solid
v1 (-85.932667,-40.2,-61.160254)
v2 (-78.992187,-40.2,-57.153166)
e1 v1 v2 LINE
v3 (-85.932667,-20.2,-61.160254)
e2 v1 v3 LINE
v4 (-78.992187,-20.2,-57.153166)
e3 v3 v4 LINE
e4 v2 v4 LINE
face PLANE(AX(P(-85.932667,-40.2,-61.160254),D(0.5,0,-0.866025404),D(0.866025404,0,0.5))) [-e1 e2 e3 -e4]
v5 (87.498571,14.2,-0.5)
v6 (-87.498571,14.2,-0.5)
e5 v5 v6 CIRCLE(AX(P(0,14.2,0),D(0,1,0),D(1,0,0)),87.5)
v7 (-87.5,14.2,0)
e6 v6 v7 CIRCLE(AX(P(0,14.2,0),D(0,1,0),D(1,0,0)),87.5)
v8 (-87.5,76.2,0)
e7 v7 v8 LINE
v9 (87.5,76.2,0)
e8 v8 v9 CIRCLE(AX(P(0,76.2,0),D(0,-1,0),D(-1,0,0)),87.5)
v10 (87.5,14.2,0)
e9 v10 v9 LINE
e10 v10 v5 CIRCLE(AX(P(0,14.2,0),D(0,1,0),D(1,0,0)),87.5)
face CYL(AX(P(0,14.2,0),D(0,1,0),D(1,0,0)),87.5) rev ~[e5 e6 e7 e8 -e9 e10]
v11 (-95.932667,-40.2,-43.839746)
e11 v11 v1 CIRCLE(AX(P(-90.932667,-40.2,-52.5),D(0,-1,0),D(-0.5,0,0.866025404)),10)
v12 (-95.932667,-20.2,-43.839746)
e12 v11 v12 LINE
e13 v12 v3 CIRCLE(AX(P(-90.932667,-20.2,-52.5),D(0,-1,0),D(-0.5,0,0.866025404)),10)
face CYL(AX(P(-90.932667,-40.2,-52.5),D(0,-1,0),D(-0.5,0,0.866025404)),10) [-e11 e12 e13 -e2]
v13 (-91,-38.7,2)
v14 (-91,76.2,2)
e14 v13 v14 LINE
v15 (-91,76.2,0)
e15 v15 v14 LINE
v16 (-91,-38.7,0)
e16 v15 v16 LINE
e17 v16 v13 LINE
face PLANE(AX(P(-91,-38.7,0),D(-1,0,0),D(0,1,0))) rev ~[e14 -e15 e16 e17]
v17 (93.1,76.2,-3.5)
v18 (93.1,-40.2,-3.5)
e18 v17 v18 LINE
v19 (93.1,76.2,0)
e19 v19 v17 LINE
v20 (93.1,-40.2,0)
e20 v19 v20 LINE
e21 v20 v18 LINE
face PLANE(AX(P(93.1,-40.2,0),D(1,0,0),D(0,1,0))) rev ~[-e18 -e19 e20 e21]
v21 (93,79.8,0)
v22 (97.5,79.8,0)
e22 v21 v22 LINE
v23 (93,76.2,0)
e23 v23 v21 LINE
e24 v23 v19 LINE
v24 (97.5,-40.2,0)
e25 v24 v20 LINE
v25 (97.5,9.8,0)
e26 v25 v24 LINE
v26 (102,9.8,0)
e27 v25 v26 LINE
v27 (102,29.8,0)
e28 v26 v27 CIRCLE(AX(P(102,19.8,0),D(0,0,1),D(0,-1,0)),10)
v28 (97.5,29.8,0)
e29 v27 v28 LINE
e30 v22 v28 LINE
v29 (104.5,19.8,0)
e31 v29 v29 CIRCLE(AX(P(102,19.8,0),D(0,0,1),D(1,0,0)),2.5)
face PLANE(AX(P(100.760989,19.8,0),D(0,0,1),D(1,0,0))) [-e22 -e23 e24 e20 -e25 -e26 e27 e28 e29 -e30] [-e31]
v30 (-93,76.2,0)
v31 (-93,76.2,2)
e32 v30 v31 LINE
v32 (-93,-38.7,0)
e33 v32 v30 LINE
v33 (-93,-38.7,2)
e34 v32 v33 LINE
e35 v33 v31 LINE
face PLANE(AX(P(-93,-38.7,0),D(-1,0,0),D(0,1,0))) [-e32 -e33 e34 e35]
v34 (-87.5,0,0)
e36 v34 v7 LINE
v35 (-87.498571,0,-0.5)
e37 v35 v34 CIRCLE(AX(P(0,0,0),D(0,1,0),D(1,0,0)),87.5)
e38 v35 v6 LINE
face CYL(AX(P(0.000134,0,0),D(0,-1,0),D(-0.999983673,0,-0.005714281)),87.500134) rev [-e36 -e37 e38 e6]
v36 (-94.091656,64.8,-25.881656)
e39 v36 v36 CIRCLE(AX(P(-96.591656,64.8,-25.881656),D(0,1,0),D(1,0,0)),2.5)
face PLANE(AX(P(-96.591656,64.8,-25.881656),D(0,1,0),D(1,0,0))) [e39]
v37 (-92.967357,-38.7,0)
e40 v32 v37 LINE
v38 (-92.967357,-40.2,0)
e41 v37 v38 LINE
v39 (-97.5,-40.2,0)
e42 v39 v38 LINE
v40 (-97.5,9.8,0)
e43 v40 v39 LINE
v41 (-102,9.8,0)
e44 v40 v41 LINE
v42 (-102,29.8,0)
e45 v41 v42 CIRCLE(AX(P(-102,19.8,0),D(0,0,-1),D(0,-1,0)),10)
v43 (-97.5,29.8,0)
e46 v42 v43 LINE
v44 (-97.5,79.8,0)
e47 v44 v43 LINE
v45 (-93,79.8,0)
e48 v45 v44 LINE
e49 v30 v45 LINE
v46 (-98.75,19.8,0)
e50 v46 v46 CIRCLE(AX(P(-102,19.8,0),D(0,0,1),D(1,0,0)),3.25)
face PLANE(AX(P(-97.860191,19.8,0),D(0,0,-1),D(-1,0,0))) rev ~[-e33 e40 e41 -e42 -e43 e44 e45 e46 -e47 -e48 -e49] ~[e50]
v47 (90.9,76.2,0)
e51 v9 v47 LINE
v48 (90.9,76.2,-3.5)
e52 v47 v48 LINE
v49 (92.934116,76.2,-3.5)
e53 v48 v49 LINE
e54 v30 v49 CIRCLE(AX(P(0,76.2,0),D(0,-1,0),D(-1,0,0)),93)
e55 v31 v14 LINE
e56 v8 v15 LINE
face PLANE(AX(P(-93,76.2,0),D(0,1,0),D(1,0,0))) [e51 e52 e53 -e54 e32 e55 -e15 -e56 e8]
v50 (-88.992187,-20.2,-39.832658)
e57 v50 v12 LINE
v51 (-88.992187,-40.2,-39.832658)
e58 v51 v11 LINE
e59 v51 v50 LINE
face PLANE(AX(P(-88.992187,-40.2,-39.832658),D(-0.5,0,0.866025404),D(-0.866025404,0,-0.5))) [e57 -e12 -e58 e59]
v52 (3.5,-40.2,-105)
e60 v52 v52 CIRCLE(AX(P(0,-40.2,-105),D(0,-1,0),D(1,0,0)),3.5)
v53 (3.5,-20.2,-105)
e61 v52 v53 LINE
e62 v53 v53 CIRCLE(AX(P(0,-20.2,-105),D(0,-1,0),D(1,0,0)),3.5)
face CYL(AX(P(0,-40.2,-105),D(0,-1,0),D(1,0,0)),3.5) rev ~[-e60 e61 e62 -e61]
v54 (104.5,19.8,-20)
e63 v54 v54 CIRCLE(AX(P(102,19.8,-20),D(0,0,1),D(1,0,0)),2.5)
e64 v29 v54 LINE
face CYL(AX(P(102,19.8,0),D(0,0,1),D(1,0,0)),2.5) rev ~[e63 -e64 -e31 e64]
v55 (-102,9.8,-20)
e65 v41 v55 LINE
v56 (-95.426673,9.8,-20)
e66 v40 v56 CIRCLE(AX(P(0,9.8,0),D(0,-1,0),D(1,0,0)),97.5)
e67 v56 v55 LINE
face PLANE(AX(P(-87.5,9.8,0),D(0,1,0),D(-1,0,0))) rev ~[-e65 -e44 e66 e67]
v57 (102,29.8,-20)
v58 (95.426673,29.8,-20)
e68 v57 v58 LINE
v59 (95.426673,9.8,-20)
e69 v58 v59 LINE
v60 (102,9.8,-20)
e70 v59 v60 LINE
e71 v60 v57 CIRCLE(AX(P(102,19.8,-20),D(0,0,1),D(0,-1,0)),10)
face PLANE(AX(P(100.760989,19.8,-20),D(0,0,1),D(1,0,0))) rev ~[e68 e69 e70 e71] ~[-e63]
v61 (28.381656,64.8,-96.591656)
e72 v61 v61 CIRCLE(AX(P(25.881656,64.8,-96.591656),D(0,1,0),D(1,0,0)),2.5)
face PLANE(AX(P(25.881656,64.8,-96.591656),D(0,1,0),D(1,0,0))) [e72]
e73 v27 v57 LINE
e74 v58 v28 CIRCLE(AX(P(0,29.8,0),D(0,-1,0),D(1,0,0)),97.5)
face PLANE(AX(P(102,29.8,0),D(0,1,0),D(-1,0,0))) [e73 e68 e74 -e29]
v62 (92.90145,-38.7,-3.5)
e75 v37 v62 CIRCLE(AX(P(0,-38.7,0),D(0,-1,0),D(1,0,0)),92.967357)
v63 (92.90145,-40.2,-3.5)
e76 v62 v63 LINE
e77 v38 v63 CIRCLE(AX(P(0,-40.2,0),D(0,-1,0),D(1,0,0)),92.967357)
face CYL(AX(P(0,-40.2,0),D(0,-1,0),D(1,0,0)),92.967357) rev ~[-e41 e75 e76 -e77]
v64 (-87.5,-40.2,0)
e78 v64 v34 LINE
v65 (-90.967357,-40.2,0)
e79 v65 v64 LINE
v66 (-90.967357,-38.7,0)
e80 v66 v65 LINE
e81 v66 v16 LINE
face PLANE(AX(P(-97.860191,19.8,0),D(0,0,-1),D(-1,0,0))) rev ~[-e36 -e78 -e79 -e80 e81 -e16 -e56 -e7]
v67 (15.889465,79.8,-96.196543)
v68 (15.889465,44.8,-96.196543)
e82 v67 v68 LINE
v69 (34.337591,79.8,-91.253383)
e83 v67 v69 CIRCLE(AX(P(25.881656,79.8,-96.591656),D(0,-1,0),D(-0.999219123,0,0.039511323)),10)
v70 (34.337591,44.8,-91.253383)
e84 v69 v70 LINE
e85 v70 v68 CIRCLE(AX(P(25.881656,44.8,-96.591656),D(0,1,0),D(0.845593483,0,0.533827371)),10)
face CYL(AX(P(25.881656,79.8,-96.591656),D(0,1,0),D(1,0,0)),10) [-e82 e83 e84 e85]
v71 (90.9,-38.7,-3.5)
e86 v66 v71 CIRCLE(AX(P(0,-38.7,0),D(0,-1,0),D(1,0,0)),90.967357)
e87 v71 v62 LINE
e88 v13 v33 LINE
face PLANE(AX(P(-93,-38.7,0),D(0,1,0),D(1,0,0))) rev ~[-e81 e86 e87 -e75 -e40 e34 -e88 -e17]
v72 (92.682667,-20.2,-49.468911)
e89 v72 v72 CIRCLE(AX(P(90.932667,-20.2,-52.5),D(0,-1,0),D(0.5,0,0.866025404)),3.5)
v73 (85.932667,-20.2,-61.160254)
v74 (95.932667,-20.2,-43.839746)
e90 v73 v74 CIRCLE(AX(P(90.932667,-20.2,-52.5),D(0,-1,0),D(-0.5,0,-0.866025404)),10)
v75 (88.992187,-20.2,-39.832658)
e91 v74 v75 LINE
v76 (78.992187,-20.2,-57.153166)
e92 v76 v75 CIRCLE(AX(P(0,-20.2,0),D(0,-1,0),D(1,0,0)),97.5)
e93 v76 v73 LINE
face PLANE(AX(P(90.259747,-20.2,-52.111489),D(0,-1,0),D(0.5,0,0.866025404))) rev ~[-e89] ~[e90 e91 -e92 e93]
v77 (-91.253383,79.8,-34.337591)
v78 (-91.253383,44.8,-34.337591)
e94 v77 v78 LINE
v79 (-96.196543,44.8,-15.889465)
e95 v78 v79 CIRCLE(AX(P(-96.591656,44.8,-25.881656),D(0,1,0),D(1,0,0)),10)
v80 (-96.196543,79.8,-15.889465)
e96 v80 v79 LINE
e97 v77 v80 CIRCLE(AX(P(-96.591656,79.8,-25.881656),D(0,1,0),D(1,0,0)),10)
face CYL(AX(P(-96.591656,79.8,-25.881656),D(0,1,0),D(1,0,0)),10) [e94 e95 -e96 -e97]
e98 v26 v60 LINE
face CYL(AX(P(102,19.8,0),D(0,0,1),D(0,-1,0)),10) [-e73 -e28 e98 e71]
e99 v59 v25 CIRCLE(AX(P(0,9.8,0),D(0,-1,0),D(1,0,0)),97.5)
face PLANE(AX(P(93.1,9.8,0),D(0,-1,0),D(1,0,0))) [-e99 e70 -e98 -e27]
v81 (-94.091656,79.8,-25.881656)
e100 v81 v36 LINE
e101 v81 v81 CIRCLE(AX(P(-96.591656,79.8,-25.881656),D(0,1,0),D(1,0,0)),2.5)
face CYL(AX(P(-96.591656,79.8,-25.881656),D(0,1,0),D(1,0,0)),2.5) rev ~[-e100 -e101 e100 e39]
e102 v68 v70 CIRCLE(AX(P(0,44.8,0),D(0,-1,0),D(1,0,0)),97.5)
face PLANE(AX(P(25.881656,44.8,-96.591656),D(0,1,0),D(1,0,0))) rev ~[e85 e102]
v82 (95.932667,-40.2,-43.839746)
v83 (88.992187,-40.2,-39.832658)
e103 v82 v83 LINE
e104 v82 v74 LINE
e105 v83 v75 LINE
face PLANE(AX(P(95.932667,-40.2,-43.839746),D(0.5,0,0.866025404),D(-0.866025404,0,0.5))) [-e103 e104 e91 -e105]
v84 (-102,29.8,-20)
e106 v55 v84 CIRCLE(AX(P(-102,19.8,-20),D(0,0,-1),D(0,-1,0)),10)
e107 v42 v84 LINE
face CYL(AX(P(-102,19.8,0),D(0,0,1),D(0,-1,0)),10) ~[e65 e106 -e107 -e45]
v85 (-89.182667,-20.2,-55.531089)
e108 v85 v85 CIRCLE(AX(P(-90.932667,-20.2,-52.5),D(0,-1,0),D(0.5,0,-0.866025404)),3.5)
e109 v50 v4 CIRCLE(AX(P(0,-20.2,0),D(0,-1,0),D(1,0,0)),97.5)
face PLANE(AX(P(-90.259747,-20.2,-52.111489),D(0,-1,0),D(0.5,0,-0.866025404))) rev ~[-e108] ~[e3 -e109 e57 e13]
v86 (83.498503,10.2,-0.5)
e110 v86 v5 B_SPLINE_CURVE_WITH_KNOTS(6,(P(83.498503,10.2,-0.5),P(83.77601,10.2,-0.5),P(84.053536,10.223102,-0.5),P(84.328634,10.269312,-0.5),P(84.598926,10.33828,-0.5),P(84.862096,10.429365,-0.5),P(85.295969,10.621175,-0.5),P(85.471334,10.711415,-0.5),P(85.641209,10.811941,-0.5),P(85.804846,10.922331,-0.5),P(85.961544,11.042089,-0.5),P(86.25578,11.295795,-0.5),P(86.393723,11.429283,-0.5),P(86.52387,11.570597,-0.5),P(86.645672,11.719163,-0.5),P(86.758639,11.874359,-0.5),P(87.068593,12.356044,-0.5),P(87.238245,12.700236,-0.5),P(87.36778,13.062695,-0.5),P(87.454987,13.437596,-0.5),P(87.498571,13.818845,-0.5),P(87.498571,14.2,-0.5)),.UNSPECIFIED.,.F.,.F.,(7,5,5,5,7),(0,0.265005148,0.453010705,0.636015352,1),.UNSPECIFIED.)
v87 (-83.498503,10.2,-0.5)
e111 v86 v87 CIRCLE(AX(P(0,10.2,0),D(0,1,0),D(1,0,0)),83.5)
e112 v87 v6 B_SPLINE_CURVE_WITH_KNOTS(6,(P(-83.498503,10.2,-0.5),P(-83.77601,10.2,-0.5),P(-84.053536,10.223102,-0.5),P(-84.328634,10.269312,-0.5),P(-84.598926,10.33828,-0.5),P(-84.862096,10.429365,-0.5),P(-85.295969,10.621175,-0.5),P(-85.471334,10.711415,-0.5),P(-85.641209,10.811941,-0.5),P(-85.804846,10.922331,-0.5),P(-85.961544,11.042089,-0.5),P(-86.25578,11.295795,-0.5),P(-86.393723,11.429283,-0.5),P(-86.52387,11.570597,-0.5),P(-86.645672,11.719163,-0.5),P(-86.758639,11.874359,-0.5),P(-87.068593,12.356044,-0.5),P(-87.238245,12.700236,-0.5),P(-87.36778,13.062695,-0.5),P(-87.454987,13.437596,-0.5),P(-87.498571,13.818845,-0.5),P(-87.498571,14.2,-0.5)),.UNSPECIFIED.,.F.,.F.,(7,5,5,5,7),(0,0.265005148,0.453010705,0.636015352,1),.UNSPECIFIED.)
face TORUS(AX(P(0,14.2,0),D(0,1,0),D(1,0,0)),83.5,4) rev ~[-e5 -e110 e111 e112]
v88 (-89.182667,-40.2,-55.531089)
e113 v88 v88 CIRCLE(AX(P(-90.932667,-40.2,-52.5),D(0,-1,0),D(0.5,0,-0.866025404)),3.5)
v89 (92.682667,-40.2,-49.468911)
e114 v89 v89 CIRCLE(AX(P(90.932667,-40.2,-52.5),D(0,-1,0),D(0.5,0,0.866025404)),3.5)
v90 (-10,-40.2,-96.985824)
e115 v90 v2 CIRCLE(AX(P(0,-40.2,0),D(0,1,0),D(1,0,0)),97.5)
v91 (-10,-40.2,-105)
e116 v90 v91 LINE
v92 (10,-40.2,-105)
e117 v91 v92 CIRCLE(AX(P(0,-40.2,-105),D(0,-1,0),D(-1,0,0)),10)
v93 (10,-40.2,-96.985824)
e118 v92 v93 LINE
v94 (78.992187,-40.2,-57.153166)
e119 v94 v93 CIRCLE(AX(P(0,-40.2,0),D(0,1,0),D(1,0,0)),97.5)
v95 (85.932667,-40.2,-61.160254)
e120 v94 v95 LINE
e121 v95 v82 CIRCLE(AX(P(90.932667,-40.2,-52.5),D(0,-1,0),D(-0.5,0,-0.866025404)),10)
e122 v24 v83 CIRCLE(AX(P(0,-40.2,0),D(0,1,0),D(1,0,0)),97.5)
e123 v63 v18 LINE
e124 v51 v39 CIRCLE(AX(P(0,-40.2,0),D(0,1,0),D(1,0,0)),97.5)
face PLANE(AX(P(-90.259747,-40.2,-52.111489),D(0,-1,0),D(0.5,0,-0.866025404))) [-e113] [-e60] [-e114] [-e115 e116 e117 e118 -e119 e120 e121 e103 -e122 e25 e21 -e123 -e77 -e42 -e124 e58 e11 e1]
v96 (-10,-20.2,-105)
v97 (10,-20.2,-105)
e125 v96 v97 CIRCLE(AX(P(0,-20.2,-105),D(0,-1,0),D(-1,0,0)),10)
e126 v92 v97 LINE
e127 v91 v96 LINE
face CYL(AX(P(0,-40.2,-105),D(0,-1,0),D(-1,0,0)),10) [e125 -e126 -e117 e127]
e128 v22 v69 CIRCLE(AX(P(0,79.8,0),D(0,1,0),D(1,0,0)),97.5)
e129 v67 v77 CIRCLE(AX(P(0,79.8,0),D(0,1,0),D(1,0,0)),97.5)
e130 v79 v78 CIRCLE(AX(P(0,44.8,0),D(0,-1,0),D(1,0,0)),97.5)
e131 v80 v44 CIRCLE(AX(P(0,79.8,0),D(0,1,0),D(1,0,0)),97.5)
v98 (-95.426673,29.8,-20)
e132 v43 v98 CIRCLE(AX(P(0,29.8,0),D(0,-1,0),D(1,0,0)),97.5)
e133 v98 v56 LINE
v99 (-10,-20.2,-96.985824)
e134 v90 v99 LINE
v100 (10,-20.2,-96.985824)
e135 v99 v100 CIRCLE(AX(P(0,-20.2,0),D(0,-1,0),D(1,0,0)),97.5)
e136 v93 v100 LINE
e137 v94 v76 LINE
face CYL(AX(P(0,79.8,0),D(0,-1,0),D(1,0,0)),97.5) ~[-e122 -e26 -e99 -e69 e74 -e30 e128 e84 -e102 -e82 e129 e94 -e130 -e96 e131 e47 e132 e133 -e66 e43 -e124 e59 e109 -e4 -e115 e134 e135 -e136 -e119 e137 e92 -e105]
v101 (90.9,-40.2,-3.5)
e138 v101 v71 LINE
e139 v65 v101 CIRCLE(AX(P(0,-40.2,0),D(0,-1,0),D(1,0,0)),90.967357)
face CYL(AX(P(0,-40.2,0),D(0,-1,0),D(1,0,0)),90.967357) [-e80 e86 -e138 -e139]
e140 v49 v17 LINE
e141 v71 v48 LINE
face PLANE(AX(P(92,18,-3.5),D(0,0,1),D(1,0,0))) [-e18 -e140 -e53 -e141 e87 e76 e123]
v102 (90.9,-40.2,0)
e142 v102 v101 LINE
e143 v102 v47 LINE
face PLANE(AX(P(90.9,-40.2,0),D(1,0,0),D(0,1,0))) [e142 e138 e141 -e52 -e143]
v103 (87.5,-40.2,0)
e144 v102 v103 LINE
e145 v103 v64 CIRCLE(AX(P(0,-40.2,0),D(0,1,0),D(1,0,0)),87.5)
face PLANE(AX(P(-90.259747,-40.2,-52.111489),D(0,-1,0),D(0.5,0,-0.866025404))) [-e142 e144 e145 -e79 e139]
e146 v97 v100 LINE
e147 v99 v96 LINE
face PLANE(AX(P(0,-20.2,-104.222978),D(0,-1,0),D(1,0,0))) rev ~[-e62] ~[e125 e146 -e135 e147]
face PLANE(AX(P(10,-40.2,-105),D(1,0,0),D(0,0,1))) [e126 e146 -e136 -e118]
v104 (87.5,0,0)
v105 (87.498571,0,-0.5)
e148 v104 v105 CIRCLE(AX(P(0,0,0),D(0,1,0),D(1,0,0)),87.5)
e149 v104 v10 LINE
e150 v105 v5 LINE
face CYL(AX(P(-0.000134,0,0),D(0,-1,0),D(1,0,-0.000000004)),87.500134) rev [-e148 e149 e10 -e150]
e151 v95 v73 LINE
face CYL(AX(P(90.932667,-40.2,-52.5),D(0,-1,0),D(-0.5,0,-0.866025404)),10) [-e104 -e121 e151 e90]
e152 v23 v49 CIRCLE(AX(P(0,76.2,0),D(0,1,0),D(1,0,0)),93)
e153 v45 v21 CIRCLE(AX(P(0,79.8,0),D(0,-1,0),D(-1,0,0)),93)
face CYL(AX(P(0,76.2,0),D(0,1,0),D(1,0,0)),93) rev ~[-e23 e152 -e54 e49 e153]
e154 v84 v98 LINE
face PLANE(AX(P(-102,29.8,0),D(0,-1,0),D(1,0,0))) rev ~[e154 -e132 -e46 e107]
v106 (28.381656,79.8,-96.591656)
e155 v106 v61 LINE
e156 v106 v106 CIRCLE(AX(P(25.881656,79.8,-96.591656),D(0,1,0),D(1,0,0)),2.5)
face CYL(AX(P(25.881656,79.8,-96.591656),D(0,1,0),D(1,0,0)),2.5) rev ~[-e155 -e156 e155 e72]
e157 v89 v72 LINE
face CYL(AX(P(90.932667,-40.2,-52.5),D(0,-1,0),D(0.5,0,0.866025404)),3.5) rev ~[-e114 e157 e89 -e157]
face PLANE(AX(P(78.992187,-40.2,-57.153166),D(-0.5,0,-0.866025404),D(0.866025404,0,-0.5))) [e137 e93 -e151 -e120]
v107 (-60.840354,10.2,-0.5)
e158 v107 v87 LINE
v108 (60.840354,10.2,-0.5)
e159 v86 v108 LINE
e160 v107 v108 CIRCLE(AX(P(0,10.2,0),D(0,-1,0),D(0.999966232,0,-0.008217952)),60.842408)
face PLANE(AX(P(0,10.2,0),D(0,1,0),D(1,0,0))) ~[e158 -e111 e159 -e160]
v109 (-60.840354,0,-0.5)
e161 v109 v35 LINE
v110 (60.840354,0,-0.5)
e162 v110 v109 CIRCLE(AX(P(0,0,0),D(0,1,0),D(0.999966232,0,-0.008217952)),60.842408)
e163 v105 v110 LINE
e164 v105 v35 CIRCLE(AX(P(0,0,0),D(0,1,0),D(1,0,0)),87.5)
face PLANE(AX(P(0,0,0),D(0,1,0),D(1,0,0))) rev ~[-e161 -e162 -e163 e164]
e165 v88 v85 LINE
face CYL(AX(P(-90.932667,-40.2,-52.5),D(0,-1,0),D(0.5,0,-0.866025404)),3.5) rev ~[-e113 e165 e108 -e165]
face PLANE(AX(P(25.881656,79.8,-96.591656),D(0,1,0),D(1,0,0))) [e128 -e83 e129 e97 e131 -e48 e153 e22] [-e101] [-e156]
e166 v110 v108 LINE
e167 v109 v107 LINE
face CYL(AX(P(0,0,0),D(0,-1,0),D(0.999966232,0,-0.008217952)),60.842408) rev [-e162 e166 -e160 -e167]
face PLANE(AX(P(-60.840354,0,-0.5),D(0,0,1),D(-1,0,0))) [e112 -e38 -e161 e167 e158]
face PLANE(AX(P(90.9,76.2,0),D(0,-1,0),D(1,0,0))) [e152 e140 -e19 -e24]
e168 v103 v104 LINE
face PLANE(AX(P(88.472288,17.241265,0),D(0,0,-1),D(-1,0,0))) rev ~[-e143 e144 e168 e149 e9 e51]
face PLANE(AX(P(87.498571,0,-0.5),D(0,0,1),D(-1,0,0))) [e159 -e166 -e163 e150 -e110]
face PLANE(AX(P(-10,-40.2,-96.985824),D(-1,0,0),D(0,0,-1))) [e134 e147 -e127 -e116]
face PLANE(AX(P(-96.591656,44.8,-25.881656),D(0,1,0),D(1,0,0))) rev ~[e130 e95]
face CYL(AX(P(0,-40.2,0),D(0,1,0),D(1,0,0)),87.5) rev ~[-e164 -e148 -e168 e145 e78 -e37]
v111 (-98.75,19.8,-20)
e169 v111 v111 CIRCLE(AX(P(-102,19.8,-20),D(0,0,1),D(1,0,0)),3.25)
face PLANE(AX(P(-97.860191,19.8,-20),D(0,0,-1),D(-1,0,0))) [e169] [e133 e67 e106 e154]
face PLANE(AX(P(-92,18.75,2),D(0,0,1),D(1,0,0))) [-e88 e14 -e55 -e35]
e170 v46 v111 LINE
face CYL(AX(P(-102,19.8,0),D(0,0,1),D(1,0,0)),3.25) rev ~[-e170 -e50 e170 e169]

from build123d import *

# Parameters (mm, degrees)
REVOLU_O2_ANGLE            = 180
ESBO_O4_R                  = 10
RESSALTO_EXTRUS_O1_DEPTH   = 35
RESSALTO_EXTRUS_O2_DEPTH   = 20
ESBO_O8_R                  = 3.5
CORTE_EXTRUS_O2_DEPTH      = 20
PADR_OCIRCULAR1_COUNT      = 6
ESBO_O6_R                  = 2.5
CORTE_EXTRUS_O1_DEPTH      = 15
ESBO_O10_W                 = 2.2
ESBO_O10_H                 = 116.4
CORTE_EXTRUS_O4_DEPTH      = 3.5
ESBO_O11_W                 = 2
ESBO_O11_H                 = 114.9
RESSALTO_EXTRUS_O5_DEPTH   = 2
ESBO_O12_R                 = 3.25
RESSALTO_EXTRUS_O6_DEPTH   = 20
ESBO_O13_R                 = 2.5
RESSALTO_EXTRUS_O7_DEPTH   = 20
ESBO_O16_R                 = 93
CORTE_EXTRUS_O6_DEPTH      = 10
ESBO_O17_R                 = 92.967356783
ESBO_O17_R_2               = 90.967356783
CORTE_EXTRUS_O7_DEPTH      = 1.5
CORTE_EXTRUS_O9_DEPTH      = 41.2
CORTE_EXTRUS_O9_DEPTH_BACK = 80.8


with BuildPart() as part:
    # Esboço3 → Revolução2 (revolve)
    with BuildSketch(Plane.XY):
        with BuildLine():
            Line((97.5, 79.8), (97.5, 11.304491341))
            Line((97.5, 11.304491341), (97.5, 0))
            Line((97.5, 0), (97.5, -40.2))
            Line((97.5, -40.2), (87.5, -40.2))
            Line((87.5, -40.2), (87.5, 0))
            Line((87.5, 0), (60.342408243, 0))
            Line((60.342408243, 0), (60.342408243, 10.2))
            Line((60.342408243, 10.2), (83.5, 10.2))
            ThreePointArc((83.5, 10.2), (86.328427125, 11.371572875), (87.5, 14.2))
            Line((87.5, 14.2), (87.5, 76.2))
            Line((87.5, 76.2), (93, 76.2))
            Line((93, 76.2), (93, 79.8))
            Line((93, 79.8), (97.5, 79.8))
        make_face()
    revolve(axis=Axis((0, -3.322055656, 0), (0, 1, 0)), revolution_arc=REVOLU_O2_ANGLE)

    # Esboço4 → Ressalto-extrusão1 (add)
    with BuildSketch(Plane(origin=(0, 79.8, 0), x_dir=(1, 0, 0), z_dir=(0, 1, 0))):
        with Locations((25.881656302, 96.591656302)):
            Circle(ESBO_O4_R)
        with Locations((-96.591656302, 25.881656302)):
            Circle(ESBO_O4_R)
    extrude(amount=-RESSALTO_EXTRUS_O1_DEPTH)

    # Esboço5 → Ressalto-extrusão2 (add)
    with BuildSketch(Plane.XZ.offset(40.2)):
        with BuildLine():
            Line((10, -105), (10, -96.985823706))
            Line((10, -96.985823706), (-10, -96.985823706))
            Line((-10, -96.985823706), (-10, -105))
            ThreePointArc((-10, -105), (0, -115), (10, -105))
        make_face()
    ressalto_extrus_o2 = extrude(amount=-RESSALTO_EXTRUS_O2_DEPTH)

    # Esboço8 → Corte-extrusão2 (cut)
    with BuildSketch(Plane.XZ.offset(40.2)):
        with Locations((0, -105)):
            Circle(ESBO_O8_R)
    corte_extrus_o2 = extrude(amount=-CORTE_EXTRUS_O2_DEPTH, mode=Mode.SUBTRACT)

    # PadrãoCircular1: Ressalto-extrusão2, Corte-extrusão2 ×6 about axis, 3 skipped
    padr_ocircular1_axis = Axis((0, 0, 0), (0, 1, 0))
    add([ressalto_extrus_o2.rotate(padr_ocircular1_axis, i * 360 / PADR_OCIRCULAR1_COUNT) for i in range(1, PADR_OCIRCULAR1_COUNT) if i not in (2, 3, 4)])
    add([corte_extrus_o2.rotate(padr_ocircular1_axis, i * 360 / PADR_OCIRCULAR1_COUNT) for i in range(1, PADR_OCIRCULAR1_COUNT) if i not in (2, 3, 4)], mode=Mode.SUBTRACT)

    # Esboço6 → Corte-extrusão1 (cut)
    with BuildSketch(Plane(origin=(0, 79.8, 0), x_dir=(1, 0, 0), z_dir=(0, 1, 0))):
        with Locations((25.881656302, 96.591656302)):
            Circle(ESBO_O6_R)
        with Locations((-96.591656302, 25.881656302)):
            Circle(ESBO_O6_R)
    extrude(amount=-CORTE_EXTRUS_O1_DEPTH, mode=Mode.SUBTRACT)

    # Esboço10 → Corte-extrusão4 (cut)
    with BuildSketch(Plane.XY):
        with Locations((92, 18)):
            Rectangle(ESBO_O10_W, ESBO_O10_H)
    extrude(amount=-CORTE_EXTRUS_O4_DEPTH, mode=Mode.SUBTRACT)

    # Esboço11 → Ressalto-extrusão5 (add)
    with BuildSketch(Plane.XY):
        with Locations((-92, 18.75)):
            Rectangle(ESBO_O11_W, ESBO_O11_H)
    extrude(amount=RESSALTO_EXTRUS_O5_DEPTH)

    # Esboço12 → Ressalto-extrusão6 (add)
    with BuildSketch(Plane.XY):
        with BuildLine():
            Line((-102, 29.8), (-87.5, 29.8))
            Line((-87.5, 29.8), (-87.5, 9.8))
            Line((-87.5, 9.8), (-102, 9.8))
            ThreePointArc((-102, 9.8), (-112, 19.8), (-102, 29.8))
        make_face()
        with Locations((-102, 19.8)):
            Circle(ESBO_O12_R, mode=Mode.SUBTRACT)
    extrude(amount=-RESSALTO_EXTRUS_O6_DEPTH)

    # Esboço13 → Ressalto-extrusão7 (add)
    with BuildSketch(Plane.XY):
        with BuildLine():
            Line((102, 29.8), (93.1, 29.8))
            Line((93.1, 29.8), (93.1, 9.8))
            Line((93.1, 9.8), (102, 9.8))
            ThreePointArc((102, 9.8), (112, 19.8), (102, 29.8))
        make_face()
        with Locations((102, 19.8)):
            Circle(ESBO_O13_R, mode=Mode.SUBTRACT)
    extrude(amount=-RESSALTO_EXTRUS_O7_DEPTH)

    # Esboço16 → Corte-extrusão6 (cut)
    with BuildSketch(Plane(origin=(0, 76.2, 0), x_dir=(1, 0, 0), z_dir=(0, 1, 0))):
        Circle(ESBO_O16_R)
    extrude(amount=CORTE_EXTRUS_O6_DEPTH, mode=Mode.SUBTRACT)

    # Esboço17 → Corte-extrusão7 (cut)
    with BuildSketch(Plane.XZ.offset(40.2)):
        Circle(ESBO_O17_R)
        Circle(ESBO_O17_R_2, mode=Mode.SUBTRACT)
    extrude(amount=-CORTE_EXTRUS_O7_DEPTH, mode=Mode.SUBTRACT)

    # Esboço21 → Corte-extrusão9 (cut, two sides)
    with BuildSketch(Plane.XZ) as corte_extrus_o9_sk:
        with BuildLine():
            Line((-87.5, 0), (87.5, 0))
            ThreePointArc((87.5, 0), (87.499642853, -0.25000102), (87.498571417, -0.5))
            Line((87.498571417, -0.5), (60.84035372, -0.5))
            ThreePointArc((60.84035372, -0.5), (0, -60.842408243), (-60.84035372, -0.5))
            Line((-60.84035372, -0.5), (-87.498571417, -0.5))
            ThreePointArc((-87.498571417, -0.5), (-87.499642853, -0.25000102), (-87.5, 0))
        make_face()
    extrude(amount=CORTE_EXTRUS_O9_DEPTH, mode=Mode.SUBTRACT)
    extrude(corte_extrus_o9_sk.sketch, amount=-CORTE_EXTRUS_O9_DEPTH_BACK, mode=Mode.SUBTRACT)


solid = part.part
